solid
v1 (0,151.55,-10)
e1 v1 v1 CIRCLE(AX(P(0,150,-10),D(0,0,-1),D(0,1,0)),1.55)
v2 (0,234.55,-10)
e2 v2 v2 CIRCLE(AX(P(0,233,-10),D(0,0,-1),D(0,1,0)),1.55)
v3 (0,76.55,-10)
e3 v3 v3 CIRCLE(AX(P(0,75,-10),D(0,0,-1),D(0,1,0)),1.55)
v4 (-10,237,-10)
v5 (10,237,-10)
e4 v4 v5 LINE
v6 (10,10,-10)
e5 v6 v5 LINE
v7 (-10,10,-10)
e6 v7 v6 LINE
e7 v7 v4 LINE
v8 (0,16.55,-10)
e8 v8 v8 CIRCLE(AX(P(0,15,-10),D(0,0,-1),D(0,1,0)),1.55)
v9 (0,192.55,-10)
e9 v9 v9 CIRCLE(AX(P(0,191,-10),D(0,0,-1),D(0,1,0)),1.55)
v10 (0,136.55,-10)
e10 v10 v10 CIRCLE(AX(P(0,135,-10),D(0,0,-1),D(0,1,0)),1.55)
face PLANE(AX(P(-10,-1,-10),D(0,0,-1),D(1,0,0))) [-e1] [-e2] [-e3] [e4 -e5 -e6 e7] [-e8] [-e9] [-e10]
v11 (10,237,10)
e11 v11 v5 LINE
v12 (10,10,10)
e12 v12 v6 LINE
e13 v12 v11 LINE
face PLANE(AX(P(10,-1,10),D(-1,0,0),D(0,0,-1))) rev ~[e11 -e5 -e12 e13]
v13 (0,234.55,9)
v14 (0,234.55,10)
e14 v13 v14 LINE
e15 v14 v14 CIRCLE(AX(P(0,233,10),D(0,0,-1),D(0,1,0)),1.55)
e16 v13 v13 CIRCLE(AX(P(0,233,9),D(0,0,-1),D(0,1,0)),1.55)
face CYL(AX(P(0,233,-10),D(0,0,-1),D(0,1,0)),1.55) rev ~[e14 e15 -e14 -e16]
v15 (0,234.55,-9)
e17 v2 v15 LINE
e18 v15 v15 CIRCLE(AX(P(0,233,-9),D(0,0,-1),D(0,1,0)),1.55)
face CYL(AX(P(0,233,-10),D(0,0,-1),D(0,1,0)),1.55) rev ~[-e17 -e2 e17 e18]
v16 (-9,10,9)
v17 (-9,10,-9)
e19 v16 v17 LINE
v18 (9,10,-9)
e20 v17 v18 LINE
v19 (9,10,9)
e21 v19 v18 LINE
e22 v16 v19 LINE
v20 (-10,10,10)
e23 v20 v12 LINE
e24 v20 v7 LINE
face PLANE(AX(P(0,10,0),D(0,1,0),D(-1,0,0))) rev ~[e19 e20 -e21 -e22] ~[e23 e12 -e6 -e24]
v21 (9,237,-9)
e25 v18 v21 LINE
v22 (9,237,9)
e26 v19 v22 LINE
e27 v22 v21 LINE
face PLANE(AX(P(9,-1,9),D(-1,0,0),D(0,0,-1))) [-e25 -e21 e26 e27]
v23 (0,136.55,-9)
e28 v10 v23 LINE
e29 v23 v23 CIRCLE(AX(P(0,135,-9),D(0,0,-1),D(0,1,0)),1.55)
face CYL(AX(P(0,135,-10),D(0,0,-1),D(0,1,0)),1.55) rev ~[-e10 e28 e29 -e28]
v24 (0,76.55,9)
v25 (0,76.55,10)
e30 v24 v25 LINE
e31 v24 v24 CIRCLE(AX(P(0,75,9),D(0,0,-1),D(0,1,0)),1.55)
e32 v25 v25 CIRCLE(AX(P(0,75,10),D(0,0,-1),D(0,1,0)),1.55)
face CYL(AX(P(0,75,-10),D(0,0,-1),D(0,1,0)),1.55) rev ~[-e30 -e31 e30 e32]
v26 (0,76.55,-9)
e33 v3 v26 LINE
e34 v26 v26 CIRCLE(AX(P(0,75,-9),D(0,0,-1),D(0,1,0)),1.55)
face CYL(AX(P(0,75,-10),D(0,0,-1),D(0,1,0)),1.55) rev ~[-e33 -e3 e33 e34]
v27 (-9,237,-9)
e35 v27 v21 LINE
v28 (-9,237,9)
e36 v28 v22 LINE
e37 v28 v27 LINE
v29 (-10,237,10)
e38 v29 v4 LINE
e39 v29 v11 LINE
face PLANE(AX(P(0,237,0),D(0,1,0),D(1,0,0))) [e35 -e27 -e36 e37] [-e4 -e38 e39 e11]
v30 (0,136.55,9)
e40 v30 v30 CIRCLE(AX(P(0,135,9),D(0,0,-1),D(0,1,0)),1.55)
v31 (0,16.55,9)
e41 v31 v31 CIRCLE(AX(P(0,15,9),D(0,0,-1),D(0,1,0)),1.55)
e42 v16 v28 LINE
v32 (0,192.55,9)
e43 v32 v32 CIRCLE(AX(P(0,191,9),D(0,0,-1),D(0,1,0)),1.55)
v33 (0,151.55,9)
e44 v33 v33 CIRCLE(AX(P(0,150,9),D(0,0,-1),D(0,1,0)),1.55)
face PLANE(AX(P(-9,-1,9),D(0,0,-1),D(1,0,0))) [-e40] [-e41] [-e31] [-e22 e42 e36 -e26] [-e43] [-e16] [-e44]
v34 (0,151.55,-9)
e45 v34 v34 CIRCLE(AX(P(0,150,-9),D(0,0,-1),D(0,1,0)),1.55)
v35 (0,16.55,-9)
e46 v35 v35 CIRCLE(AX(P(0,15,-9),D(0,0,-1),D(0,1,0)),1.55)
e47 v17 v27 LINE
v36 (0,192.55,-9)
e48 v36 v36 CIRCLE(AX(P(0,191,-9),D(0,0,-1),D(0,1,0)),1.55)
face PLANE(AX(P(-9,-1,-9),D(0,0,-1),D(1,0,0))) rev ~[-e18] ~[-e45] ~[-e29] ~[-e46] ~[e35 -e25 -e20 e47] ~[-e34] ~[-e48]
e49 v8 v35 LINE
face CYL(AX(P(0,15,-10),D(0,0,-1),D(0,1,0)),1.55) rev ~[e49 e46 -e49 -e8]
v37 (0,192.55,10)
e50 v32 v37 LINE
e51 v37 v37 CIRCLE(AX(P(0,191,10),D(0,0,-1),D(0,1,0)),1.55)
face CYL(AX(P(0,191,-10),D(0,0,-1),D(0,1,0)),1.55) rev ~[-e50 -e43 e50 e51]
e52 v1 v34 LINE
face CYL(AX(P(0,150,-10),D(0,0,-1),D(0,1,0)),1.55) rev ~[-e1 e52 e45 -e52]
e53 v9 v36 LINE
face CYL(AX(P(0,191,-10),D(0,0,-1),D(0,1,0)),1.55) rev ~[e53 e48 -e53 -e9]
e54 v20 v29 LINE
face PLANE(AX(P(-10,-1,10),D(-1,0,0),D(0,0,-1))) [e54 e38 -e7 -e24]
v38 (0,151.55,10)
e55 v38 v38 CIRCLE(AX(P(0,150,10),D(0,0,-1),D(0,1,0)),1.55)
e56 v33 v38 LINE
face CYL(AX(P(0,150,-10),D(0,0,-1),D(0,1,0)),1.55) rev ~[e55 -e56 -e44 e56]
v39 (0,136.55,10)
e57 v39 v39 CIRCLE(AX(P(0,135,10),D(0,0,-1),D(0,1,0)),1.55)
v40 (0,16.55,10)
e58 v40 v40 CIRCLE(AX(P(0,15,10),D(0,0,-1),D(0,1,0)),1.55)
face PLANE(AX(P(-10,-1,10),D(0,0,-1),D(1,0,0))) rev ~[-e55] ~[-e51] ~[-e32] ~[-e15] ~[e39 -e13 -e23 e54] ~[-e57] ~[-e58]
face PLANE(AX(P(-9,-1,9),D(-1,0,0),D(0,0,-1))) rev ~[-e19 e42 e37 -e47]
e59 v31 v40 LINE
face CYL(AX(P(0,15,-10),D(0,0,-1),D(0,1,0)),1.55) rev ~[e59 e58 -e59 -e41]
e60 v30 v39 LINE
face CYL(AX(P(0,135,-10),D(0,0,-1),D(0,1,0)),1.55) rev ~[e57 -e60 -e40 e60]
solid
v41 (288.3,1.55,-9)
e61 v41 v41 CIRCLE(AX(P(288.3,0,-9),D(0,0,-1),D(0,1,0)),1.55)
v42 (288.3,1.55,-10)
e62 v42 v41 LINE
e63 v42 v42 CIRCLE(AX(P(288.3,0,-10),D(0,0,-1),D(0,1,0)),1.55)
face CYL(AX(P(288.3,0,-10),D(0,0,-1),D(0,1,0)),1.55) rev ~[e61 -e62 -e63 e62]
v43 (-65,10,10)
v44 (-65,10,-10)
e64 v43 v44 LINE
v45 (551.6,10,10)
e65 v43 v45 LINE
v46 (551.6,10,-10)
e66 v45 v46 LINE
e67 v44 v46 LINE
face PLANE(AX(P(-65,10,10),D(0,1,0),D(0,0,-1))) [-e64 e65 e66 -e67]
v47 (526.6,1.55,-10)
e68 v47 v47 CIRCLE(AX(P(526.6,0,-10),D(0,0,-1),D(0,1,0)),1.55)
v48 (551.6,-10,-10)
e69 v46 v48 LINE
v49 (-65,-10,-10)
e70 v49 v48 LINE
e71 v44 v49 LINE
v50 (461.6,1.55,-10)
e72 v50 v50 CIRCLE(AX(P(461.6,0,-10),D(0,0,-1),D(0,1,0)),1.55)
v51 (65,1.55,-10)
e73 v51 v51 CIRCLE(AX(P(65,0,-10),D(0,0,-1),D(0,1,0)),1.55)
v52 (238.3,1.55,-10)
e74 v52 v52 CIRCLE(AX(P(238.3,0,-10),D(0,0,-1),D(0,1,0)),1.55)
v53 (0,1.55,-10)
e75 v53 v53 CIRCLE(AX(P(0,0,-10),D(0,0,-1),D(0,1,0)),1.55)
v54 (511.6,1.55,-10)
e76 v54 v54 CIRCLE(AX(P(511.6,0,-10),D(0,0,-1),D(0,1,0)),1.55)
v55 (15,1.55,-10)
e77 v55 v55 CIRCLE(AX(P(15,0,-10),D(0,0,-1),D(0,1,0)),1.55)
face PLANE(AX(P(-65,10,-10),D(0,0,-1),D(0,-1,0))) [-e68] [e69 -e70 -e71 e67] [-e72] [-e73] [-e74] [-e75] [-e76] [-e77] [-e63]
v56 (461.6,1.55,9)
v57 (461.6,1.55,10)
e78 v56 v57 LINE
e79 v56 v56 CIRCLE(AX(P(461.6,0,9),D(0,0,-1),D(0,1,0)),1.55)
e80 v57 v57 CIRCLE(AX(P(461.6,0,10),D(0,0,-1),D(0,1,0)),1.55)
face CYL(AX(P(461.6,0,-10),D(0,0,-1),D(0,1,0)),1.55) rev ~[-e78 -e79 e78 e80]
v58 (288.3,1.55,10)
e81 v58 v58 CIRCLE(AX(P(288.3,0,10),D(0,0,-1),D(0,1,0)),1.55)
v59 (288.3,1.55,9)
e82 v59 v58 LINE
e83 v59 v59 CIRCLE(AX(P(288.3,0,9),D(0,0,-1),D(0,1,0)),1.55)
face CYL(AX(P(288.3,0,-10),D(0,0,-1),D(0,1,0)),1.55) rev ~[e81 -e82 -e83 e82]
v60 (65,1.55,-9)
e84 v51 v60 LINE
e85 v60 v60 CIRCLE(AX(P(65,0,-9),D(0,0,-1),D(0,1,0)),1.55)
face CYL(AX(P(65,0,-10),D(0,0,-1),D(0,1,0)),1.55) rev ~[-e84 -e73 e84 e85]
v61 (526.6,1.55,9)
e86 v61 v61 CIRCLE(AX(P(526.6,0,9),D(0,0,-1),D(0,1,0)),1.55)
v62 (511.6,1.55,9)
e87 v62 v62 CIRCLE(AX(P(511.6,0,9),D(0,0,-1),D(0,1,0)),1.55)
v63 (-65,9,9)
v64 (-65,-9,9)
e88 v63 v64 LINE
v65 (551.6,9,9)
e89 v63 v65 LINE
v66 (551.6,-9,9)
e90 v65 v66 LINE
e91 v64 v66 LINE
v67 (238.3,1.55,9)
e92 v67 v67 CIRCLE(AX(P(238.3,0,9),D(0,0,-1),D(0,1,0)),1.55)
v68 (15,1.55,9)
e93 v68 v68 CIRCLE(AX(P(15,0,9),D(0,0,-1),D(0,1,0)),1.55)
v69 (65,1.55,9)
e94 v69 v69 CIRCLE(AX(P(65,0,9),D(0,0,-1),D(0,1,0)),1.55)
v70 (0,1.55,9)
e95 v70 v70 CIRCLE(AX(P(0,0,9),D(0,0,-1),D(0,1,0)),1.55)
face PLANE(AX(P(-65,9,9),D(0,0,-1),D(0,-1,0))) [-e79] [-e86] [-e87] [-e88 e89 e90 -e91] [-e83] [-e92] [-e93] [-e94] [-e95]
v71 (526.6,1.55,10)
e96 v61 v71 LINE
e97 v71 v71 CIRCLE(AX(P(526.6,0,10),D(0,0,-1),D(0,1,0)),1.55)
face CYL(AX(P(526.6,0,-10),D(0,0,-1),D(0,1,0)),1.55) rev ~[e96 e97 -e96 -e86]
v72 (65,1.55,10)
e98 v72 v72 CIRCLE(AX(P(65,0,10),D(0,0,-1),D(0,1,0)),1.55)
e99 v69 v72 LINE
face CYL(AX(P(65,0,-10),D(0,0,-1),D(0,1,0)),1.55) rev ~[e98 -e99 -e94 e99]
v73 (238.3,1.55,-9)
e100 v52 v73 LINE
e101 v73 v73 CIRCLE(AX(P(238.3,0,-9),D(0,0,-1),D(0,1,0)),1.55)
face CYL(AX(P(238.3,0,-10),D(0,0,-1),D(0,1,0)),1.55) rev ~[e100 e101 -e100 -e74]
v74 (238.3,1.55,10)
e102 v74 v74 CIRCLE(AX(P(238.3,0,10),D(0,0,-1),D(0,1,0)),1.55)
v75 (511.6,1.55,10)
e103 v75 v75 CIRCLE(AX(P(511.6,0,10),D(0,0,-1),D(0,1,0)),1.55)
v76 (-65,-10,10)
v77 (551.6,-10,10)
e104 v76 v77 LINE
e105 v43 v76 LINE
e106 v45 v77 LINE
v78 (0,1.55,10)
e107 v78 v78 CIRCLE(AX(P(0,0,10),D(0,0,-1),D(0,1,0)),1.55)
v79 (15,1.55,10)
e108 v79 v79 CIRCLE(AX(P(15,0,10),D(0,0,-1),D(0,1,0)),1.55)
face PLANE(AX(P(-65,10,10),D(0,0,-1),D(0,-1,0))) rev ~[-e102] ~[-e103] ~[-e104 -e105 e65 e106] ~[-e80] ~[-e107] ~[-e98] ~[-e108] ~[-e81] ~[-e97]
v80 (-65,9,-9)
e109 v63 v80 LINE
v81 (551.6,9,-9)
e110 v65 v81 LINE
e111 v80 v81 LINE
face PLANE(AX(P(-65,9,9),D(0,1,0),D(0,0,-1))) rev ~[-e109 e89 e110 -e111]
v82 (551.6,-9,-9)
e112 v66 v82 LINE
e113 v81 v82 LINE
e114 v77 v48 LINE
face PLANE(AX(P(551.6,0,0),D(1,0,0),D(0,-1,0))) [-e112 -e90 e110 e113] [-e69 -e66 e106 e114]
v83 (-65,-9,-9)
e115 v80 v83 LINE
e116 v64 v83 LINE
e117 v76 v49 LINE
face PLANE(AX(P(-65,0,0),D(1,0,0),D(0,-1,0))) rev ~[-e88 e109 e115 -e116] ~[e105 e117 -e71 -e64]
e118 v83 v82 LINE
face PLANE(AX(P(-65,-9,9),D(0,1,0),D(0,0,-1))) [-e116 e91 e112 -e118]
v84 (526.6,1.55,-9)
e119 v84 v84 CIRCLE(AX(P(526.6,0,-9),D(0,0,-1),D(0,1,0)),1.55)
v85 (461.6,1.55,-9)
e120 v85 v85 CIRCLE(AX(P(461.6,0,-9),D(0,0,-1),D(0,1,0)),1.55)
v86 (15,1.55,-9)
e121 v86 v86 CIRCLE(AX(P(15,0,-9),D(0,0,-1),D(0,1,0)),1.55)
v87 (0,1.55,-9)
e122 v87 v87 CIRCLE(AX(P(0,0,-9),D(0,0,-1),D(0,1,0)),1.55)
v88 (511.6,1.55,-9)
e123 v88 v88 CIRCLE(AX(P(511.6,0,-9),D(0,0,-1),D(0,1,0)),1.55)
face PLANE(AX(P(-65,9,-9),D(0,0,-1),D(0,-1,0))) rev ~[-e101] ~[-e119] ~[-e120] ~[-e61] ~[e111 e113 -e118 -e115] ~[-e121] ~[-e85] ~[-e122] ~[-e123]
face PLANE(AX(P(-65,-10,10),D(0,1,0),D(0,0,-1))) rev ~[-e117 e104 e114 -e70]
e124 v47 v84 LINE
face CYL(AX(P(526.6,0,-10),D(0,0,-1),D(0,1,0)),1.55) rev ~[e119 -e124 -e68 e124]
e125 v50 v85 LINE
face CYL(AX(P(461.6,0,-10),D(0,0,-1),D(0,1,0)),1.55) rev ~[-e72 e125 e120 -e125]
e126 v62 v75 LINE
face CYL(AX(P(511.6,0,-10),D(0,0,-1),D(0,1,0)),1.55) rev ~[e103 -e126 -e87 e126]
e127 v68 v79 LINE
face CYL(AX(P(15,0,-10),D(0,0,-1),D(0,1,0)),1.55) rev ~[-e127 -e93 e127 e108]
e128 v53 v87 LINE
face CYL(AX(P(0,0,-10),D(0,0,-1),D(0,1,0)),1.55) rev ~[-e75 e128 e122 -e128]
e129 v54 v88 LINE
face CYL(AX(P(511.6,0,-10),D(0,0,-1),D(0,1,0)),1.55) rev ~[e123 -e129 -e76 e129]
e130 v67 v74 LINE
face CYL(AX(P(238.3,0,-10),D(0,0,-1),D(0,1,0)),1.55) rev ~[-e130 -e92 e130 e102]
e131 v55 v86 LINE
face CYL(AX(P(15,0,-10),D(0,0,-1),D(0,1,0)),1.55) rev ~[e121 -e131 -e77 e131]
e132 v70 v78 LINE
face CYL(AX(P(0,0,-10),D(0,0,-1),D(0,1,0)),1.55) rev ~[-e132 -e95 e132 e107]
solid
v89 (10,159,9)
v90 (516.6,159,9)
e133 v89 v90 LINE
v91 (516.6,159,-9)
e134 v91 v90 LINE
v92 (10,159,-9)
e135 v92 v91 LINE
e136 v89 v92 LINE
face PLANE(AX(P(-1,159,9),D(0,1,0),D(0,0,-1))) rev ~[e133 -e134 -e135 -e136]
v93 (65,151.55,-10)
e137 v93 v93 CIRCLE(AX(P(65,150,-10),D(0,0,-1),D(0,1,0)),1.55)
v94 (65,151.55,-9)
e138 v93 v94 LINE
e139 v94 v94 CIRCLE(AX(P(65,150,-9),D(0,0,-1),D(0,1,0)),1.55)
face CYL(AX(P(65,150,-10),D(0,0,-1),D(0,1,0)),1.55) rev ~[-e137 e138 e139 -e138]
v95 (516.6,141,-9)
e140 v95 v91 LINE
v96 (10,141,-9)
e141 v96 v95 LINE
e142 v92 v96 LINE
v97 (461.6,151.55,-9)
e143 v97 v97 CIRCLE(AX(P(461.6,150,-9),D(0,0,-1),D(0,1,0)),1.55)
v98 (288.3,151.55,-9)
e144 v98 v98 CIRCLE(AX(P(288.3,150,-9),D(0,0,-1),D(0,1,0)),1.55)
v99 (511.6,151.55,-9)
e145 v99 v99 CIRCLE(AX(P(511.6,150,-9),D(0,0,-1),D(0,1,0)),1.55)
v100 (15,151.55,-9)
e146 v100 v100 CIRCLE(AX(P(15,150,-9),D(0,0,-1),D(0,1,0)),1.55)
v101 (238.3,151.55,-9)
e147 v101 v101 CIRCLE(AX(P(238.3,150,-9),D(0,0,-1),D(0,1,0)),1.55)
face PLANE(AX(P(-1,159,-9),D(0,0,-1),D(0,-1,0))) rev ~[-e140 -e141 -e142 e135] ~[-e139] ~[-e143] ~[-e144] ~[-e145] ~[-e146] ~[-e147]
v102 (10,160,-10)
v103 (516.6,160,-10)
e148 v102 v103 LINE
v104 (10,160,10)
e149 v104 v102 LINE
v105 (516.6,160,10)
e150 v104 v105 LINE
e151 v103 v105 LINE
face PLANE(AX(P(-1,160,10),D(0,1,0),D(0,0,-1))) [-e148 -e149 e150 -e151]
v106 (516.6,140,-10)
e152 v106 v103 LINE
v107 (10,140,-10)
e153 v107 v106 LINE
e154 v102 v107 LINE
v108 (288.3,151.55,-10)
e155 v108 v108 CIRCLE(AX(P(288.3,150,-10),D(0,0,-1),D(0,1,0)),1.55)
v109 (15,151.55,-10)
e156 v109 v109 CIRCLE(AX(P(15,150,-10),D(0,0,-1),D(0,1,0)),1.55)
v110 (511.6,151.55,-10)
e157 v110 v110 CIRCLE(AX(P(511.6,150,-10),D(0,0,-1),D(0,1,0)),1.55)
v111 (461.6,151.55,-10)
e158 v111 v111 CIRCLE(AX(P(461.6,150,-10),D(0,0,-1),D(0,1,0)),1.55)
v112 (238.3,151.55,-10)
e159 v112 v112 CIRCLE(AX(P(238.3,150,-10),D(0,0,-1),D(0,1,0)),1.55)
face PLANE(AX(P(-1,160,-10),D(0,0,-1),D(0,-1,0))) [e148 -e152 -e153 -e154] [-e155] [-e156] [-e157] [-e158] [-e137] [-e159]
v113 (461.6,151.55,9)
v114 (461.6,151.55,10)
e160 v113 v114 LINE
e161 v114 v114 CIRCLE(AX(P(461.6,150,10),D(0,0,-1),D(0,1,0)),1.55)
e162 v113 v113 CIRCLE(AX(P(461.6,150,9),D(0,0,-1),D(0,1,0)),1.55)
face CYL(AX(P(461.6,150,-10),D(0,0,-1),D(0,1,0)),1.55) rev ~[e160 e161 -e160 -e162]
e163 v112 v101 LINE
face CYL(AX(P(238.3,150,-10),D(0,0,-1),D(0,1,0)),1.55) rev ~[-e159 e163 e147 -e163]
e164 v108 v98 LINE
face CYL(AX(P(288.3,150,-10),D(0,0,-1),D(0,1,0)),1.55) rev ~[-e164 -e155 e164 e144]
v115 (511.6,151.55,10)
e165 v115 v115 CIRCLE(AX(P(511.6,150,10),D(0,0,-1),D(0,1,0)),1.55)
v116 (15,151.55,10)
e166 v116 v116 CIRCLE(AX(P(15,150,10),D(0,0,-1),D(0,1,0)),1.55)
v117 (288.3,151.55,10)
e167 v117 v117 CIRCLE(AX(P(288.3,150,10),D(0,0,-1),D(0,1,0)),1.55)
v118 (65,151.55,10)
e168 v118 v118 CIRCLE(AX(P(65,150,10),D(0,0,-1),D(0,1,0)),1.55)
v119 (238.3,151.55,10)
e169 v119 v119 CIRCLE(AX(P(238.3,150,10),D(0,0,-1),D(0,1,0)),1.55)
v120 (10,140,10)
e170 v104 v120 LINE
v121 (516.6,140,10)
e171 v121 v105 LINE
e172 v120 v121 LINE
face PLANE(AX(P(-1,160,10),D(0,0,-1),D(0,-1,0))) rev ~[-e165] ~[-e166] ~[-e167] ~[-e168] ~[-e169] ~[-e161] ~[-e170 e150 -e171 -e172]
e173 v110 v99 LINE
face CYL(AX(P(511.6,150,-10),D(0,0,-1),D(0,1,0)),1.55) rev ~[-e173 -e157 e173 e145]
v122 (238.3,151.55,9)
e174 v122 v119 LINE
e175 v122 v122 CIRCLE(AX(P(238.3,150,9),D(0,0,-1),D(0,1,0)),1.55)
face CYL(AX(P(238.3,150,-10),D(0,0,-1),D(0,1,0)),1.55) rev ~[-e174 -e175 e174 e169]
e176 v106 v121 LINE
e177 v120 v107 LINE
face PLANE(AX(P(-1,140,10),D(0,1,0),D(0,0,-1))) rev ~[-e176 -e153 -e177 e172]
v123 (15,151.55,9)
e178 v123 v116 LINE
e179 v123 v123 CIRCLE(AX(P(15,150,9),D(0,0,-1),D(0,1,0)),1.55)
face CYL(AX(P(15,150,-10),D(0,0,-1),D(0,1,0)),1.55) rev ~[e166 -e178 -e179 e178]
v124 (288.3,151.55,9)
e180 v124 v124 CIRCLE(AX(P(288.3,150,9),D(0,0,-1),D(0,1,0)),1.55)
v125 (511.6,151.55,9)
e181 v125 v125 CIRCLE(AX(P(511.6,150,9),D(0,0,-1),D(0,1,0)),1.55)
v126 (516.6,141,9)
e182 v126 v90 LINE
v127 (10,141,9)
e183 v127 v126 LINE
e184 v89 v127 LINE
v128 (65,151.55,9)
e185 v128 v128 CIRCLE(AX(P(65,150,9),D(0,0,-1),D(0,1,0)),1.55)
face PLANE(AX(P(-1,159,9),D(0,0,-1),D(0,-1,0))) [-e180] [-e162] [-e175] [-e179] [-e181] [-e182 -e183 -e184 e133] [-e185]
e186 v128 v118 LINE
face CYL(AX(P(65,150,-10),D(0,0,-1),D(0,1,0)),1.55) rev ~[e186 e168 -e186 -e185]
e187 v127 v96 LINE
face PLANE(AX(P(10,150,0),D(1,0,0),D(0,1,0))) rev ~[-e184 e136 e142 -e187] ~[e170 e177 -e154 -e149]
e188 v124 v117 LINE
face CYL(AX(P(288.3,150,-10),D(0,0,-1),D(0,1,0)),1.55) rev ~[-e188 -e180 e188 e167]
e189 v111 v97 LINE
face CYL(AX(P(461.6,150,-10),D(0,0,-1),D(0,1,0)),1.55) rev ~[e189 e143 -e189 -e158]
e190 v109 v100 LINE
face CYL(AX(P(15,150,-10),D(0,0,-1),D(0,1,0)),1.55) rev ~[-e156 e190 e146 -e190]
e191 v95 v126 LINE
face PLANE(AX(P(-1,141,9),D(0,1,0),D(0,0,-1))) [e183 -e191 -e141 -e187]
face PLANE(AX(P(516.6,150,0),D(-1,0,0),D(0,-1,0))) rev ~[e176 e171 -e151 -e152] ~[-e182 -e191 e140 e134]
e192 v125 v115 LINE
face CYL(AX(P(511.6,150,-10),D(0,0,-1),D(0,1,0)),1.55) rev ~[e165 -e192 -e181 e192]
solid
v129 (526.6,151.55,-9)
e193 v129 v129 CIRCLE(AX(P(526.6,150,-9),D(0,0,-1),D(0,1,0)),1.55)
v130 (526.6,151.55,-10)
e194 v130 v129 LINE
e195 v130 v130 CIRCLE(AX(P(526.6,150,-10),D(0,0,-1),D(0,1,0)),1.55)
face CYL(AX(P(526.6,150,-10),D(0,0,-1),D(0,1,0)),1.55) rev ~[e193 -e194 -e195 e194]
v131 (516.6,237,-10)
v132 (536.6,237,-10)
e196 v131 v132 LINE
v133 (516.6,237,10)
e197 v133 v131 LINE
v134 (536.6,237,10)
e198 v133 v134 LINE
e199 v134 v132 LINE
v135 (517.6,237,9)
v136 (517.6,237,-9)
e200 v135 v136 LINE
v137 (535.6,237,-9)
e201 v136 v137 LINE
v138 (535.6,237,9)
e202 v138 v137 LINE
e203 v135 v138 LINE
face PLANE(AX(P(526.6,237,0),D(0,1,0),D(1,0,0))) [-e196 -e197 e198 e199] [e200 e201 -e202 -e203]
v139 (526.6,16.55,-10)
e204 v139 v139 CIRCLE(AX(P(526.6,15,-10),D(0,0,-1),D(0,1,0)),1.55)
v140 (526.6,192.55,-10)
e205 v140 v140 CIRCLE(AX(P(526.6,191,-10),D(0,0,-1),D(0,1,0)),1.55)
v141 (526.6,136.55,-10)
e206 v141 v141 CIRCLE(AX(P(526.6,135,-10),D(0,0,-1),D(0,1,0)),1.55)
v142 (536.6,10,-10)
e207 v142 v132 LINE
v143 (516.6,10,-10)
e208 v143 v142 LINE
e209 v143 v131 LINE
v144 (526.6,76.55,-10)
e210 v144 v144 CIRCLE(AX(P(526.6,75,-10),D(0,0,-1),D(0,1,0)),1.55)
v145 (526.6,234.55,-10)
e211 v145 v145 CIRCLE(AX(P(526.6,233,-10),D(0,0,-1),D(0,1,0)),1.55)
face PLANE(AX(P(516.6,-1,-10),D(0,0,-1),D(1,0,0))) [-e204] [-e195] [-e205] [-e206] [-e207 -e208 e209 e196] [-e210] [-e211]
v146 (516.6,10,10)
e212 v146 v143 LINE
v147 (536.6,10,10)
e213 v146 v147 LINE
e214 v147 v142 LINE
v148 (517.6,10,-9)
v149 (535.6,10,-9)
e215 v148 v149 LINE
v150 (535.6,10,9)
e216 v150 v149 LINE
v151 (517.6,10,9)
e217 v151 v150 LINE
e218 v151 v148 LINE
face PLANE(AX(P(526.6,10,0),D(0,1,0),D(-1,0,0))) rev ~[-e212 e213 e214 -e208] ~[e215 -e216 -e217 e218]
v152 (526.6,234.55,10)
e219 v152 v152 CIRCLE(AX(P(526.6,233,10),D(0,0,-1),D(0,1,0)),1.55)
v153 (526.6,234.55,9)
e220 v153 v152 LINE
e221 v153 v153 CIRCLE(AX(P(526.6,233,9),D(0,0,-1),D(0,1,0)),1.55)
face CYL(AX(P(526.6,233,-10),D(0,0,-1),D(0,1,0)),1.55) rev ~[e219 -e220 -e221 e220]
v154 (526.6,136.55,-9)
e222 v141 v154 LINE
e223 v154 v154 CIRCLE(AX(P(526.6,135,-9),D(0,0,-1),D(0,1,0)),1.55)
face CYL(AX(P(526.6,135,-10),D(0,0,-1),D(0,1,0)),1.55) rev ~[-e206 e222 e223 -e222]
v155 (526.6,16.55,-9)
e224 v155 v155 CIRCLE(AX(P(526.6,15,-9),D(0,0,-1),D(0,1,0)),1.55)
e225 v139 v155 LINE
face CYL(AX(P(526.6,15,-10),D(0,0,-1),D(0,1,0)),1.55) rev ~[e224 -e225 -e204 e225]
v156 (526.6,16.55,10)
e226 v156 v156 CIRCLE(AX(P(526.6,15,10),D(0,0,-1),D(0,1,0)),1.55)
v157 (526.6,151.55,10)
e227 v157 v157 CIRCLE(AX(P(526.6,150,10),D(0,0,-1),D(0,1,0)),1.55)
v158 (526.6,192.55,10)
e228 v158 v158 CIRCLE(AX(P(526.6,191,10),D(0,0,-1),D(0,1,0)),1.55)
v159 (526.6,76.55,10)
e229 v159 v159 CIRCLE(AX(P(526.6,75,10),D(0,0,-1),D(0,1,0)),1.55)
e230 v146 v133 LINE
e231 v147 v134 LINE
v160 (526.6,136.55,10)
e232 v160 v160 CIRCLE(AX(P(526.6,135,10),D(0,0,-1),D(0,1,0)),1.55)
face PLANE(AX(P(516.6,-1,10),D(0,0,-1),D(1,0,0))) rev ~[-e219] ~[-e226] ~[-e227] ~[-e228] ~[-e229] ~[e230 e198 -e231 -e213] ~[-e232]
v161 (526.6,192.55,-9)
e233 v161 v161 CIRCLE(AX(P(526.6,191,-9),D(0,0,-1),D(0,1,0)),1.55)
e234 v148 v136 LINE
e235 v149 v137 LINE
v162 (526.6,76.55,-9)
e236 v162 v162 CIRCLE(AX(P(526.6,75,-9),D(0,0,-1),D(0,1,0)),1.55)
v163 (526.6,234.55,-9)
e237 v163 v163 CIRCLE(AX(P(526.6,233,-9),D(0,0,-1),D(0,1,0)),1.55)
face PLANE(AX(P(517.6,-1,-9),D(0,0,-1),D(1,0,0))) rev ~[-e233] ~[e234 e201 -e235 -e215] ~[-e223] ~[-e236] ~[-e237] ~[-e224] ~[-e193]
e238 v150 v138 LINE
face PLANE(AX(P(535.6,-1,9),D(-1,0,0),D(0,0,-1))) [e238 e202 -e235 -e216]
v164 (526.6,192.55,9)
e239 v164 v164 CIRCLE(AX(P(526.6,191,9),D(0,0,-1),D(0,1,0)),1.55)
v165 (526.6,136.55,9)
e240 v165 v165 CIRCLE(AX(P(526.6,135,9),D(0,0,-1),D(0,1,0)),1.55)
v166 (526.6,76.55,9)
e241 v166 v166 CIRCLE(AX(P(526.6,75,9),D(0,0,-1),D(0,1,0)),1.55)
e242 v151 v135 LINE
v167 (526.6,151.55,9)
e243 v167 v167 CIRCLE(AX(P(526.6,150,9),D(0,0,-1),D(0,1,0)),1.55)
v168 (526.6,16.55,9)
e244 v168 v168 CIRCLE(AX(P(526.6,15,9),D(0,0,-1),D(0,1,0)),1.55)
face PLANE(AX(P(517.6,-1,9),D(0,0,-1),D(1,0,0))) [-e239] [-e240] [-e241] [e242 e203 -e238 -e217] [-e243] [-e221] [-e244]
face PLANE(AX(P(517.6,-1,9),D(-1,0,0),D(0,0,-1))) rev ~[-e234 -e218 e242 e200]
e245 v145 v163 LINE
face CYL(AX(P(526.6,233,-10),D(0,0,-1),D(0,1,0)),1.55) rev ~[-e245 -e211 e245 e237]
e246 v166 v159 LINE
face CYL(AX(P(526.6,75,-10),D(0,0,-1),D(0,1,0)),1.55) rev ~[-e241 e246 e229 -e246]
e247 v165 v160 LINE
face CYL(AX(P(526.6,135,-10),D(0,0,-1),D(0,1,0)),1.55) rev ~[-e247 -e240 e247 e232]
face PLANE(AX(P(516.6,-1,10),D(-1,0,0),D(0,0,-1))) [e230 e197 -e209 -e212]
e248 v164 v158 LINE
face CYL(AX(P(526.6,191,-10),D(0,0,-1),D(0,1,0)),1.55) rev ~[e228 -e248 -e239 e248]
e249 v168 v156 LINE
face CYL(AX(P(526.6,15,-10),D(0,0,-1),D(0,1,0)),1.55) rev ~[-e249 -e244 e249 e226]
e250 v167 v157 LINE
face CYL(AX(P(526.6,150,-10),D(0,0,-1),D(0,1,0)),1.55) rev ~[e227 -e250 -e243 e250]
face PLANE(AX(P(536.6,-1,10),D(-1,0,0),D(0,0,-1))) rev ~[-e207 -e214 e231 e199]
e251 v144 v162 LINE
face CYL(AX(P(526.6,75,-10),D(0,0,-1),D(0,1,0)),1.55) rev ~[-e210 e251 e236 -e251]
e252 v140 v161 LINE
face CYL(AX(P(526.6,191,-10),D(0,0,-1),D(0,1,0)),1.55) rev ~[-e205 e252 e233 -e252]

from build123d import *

# Parameters (mm, degrees)
F_20X20X1_1_DEPTH         = 237
F_20X20X1_1_DEPTH_BACK    = 1
SKETCH_1_W                = 20
SKETCH_1_H                = 20
SKETCH_1_W_2              = 18
SKETCH_1_H_2              = 18
SKETCH_1_ON_SEGMENT_2_W   = 20
SKETCH_1_ON_SEGMENT_2_H   = 20
SKETCH_1_ON_SEGMENT_2_W_2 = 18
SKETCH_1_ON_SEGMENT_2_H_2 = 18
F_20X20X1_1_2_DEPTH       = 528.6
SKETCH_1_ON_SEGMENT_3_W   = 20
SKETCH_1_ON_SEGMENT_3_H   = 20
SKETCH_1_ON_SEGMENT_3_W_2 = 18
SKETCH_1_ON_SEGMENT_3_H_2 = 18
F_20X20X1_1_3_DEPTH       = 238
SKETCH_1_ON_SEGMENT_4_W   = 20
SKETCH_1_ON_SEGMENT_4_H   = 20
SKETCH_1_ON_SEGMENT_4_W_2 = 18
SKETCH_1_ON_SEGMENT_4_H_2 = 18
F_20X20X1_1_4_DEPTH       = 616.6
SKETCH_3_R                = 1.55
CUT_EXTRUDE_1_DEPTH       = 601.692566959


with BuildPart() as part:
    # 草图1 → 方形管 20X20X1(1) (new, two sides: drawn at the far end of the back side and taken through both)
    with BuildSketch(Plane(origin=(0, 0, 0), x_dir=(1, 0, 0), z_dir=(0, 1, 0)).offset(-F_20X20X1_1_DEPTH_BACK)):
        Rectangle(SKETCH_1_W, SKETCH_1_H)
        Rectangle(SKETCH_1_W_2, SKETCH_1_H_2, mode=Mode.SUBTRACT)
    extrude(amount=F_20X20X1_1_DEPTH + F_20X20X1_1_DEPTH_BACK)

    # 方形管 20X20X1(1) end butt 1
    split(bisect_by=Plane(origin=(0, 10, 0), x_dir=(-1, 0, 0), z_dir=(0, 1, 0)), keep=Keep.TOP)


with BuildPart() as body_2:
    # 草图1 on segment 2 (carried to segment 2) → 20X20X1_1 2 (new body)
    with BuildSketch(Plane(origin=(-1, 150, 0), x_dir=(0, -1, 0), z_dir=(1, 0, 0))):
        Rectangle(SKETCH_1_ON_SEGMENT_2_W, SKETCH_1_ON_SEGMENT_2_H)
        Rectangle(SKETCH_1_ON_SEGMENT_2_W_2, SKETCH_1_ON_SEGMENT_2_H_2, mode=Mode.SUBTRACT)
    extrude(amount=F_20X20X1_1_2_DEPTH)

    # 20X20X1_1 2 end butt 1
    split(bisect_by=Plane(origin=(10, 150, 0), x_dir=(0, 1, 0), z_dir=(1, 0, 0)), keep=Keep.TOP)

    # 20X20X1_1 2 end butt 2
    split(bisect_by=Plane(origin=(516.6, 150, 0), x_dir=(0, -1, 0), z_dir=(-1, 0, 0)), keep=Keep.TOP)


with BuildPart() as body_3:
    # 草图1 on segment 3 (carried to segment 3) → 20X20X1_1 3 (new body)
    with BuildSketch(Plane(origin=(526.6, -1, 0), x_dir=(1, 0, 0), z_dir=(0, 1, 0))):
        Rectangle(SKETCH_1_ON_SEGMENT_3_W, SKETCH_1_ON_SEGMENT_3_H)
        Rectangle(SKETCH_1_ON_SEGMENT_3_W_2, SKETCH_1_ON_SEGMENT_3_H_2, mode=Mode.SUBTRACT)
    extrude(amount=F_20X20X1_1_3_DEPTH)

    # 20X20X1_1 3 end butt 1
    split(bisect_by=Plane(origin=(526.6, 10, 0), x_dir=(-1, 0, 0), z_dir=(0, 1, 0)), keep=Keep.TOP)


with BuildPart() as body_4:
    # 草图1 on segment 4 (carried to segment 4) → 20X20X1_1 4 (new body)
    with BuildSketch(Plane(origin=(-65, 0, 0), x_dir=(0, -1, 0), z_dir=(1, 0, 0))):
        Rectangle(SKETCH_1_ON_SEGMENT_4_W, SKETCH_1_ON_SEGMENT_4_H)
        Rectangle(SKETCH_1_ON_SEGMENT_4_W_2, SKETCH_1_ON_SEGMENT_4_H_2, mode=Mode.SUBTRACT)
    extrude(amount=F_20X20X1_1_4_DEPTH)


with BuildPart() as cut_extrude_1_tool:
    # 草图3 → 切除-拉伸1 (new, through all)
    with BuildSketch(Plane(origin=(0, 0, -10), x_dir=(-1, 0, 0), z_dir=(0, 0, -1))):
        with Locations(Location((-526.6, 233, 0), (0, 0, 90))):
            Circle(SKETCH_3_R)
        with Locations(Location((-461.6, 150, 0), (0, 0, 90))):
            Circle(SKETCH_3_R)
        with Locations(Location((-511.6, 150, 0), (0, 0, 90))):
            Circle(SKETCH_3_R)
        with Locations(Location((-526.6, 135, 0), (0, 0, 90))):
            Circle(SKETCH_3_R)
        with Locations(Location((-526.6, 150, 0), (0, 0, 90))):
            Circle(SKETCH_3_R)
        with Locations(Location((-526.6, 191, 0), (0, 0, 90))):
            Circle(SKETCH_3_R)
        with Locations(Location((-461.6, 0, 0), (0, 0, 90))):
            Circle(SKETCH_3_R)
        with Locations(Location((-511.6, 0, 0), (0, 0, 90))):
            Circle(SKETCH_3_R)
        with Locations(Location((-526.6, 0, 0), (0, 0, 90))):
            Circle(SKETCH_3_R)
        with Locations(Location((-526.6, 15, 0), (0, 0, 90))):
            Circle(SKETCH_3_R)
        with Locations(Location((-526.6, 75, 0), (0, 0, 90))):
            Circle(SKETCH_3_R)
        with Locations(Location((-238.3, 150, 0), (0, 0, 90))):
            Circle(SKETCH_3_R)
        with Locations(Location((-288.3, 150, 0), (0, 0, 90))):
            Circle(SKETCH_3_R)
        with Locations(Location((0, 75, 0), (0, 0, 90))):
            Circle(SKETCH_3_R)
        with Locations(Location((0, 135, 0), (0, 0, 90))):
            Circle(SKETCH_3_R)
        with Locations(Location((0, 150, 0), (0, 0, 90))):
            Circle(SKETCH_3_R)
        with Locations(Location((-15, 150, 0), (0, 0, 90))):
            Circle(SKETCH_3_R)
        with Locations(Location((-65, 150, 0), (0, 0, 90))):
            Circle(SKETCH_3_R)
        with Locations(Location((-65, 0, 0), (0, 0, 90))):
            Circle(SKETCH_3_R)
        with Locations(Location((-15, 0, 0), (0, 0, 90))):
            Circle(SKETCH_3_R)
        with Locations(Location((0, 0, 0), (0, 0, 90))):
            Circle(SKETCH_3_R)
        with Locations(Location((0, 15, 0), (0, 0, 90))):
            Circle(SKETCH_3_R)
        with Locations(Location((-288.3, 0, 0), (0, 0, 90))):
            Circle(SKETCH_3_R)
        with Locations(Location((-238.3, 0, 0), (0, 0, 90))):
            Circle(SKETCH_3_R)
        with Locations(Location((0, 191, 0), (0, 0, 90))):
            Circle(SKETCH_3_R)
        with Locations(Location((0, 233, 0), (0, 0, 90))):
            Circle(SKETCH_3_R)
    extrude(amount=-CUT_EXTRUDE_1_DEPTH)


with BuildPart() as part_1:
    add(part.part)

    # 切除-拉伸1: cut by cut_extrude_1_tool
    add(cut_extrude_1_tool.part, mode=Mode.SUBTRACT)


with BuildPart() as body_2_1:
    add(body_2.part)

    # 切除-拉伸1: cut by cut_extrude_1_tool
    add(cut_extrude_1_tool.part, mode=Mode.SUBTRACT)


with BuildPart() as body_3_1:
    add(body_3.part)

    # 切除-拉伸1: cut by cut_extrude_1_tool
    add(cut_extrude_1_tool.part, mode=Mode.SUBTRACT)


with BuildPart() as body_4_1:
    add(body_4.part)

    # 切除-拉伸1: cut by cut_extrude_1_tool
    add(cut_extrude_1_tool.part, mode=Mode.SUBTRACT)


solid = Compound([part_1.part, body_2_1.part, body_3_1.part, body_4_1.part])
